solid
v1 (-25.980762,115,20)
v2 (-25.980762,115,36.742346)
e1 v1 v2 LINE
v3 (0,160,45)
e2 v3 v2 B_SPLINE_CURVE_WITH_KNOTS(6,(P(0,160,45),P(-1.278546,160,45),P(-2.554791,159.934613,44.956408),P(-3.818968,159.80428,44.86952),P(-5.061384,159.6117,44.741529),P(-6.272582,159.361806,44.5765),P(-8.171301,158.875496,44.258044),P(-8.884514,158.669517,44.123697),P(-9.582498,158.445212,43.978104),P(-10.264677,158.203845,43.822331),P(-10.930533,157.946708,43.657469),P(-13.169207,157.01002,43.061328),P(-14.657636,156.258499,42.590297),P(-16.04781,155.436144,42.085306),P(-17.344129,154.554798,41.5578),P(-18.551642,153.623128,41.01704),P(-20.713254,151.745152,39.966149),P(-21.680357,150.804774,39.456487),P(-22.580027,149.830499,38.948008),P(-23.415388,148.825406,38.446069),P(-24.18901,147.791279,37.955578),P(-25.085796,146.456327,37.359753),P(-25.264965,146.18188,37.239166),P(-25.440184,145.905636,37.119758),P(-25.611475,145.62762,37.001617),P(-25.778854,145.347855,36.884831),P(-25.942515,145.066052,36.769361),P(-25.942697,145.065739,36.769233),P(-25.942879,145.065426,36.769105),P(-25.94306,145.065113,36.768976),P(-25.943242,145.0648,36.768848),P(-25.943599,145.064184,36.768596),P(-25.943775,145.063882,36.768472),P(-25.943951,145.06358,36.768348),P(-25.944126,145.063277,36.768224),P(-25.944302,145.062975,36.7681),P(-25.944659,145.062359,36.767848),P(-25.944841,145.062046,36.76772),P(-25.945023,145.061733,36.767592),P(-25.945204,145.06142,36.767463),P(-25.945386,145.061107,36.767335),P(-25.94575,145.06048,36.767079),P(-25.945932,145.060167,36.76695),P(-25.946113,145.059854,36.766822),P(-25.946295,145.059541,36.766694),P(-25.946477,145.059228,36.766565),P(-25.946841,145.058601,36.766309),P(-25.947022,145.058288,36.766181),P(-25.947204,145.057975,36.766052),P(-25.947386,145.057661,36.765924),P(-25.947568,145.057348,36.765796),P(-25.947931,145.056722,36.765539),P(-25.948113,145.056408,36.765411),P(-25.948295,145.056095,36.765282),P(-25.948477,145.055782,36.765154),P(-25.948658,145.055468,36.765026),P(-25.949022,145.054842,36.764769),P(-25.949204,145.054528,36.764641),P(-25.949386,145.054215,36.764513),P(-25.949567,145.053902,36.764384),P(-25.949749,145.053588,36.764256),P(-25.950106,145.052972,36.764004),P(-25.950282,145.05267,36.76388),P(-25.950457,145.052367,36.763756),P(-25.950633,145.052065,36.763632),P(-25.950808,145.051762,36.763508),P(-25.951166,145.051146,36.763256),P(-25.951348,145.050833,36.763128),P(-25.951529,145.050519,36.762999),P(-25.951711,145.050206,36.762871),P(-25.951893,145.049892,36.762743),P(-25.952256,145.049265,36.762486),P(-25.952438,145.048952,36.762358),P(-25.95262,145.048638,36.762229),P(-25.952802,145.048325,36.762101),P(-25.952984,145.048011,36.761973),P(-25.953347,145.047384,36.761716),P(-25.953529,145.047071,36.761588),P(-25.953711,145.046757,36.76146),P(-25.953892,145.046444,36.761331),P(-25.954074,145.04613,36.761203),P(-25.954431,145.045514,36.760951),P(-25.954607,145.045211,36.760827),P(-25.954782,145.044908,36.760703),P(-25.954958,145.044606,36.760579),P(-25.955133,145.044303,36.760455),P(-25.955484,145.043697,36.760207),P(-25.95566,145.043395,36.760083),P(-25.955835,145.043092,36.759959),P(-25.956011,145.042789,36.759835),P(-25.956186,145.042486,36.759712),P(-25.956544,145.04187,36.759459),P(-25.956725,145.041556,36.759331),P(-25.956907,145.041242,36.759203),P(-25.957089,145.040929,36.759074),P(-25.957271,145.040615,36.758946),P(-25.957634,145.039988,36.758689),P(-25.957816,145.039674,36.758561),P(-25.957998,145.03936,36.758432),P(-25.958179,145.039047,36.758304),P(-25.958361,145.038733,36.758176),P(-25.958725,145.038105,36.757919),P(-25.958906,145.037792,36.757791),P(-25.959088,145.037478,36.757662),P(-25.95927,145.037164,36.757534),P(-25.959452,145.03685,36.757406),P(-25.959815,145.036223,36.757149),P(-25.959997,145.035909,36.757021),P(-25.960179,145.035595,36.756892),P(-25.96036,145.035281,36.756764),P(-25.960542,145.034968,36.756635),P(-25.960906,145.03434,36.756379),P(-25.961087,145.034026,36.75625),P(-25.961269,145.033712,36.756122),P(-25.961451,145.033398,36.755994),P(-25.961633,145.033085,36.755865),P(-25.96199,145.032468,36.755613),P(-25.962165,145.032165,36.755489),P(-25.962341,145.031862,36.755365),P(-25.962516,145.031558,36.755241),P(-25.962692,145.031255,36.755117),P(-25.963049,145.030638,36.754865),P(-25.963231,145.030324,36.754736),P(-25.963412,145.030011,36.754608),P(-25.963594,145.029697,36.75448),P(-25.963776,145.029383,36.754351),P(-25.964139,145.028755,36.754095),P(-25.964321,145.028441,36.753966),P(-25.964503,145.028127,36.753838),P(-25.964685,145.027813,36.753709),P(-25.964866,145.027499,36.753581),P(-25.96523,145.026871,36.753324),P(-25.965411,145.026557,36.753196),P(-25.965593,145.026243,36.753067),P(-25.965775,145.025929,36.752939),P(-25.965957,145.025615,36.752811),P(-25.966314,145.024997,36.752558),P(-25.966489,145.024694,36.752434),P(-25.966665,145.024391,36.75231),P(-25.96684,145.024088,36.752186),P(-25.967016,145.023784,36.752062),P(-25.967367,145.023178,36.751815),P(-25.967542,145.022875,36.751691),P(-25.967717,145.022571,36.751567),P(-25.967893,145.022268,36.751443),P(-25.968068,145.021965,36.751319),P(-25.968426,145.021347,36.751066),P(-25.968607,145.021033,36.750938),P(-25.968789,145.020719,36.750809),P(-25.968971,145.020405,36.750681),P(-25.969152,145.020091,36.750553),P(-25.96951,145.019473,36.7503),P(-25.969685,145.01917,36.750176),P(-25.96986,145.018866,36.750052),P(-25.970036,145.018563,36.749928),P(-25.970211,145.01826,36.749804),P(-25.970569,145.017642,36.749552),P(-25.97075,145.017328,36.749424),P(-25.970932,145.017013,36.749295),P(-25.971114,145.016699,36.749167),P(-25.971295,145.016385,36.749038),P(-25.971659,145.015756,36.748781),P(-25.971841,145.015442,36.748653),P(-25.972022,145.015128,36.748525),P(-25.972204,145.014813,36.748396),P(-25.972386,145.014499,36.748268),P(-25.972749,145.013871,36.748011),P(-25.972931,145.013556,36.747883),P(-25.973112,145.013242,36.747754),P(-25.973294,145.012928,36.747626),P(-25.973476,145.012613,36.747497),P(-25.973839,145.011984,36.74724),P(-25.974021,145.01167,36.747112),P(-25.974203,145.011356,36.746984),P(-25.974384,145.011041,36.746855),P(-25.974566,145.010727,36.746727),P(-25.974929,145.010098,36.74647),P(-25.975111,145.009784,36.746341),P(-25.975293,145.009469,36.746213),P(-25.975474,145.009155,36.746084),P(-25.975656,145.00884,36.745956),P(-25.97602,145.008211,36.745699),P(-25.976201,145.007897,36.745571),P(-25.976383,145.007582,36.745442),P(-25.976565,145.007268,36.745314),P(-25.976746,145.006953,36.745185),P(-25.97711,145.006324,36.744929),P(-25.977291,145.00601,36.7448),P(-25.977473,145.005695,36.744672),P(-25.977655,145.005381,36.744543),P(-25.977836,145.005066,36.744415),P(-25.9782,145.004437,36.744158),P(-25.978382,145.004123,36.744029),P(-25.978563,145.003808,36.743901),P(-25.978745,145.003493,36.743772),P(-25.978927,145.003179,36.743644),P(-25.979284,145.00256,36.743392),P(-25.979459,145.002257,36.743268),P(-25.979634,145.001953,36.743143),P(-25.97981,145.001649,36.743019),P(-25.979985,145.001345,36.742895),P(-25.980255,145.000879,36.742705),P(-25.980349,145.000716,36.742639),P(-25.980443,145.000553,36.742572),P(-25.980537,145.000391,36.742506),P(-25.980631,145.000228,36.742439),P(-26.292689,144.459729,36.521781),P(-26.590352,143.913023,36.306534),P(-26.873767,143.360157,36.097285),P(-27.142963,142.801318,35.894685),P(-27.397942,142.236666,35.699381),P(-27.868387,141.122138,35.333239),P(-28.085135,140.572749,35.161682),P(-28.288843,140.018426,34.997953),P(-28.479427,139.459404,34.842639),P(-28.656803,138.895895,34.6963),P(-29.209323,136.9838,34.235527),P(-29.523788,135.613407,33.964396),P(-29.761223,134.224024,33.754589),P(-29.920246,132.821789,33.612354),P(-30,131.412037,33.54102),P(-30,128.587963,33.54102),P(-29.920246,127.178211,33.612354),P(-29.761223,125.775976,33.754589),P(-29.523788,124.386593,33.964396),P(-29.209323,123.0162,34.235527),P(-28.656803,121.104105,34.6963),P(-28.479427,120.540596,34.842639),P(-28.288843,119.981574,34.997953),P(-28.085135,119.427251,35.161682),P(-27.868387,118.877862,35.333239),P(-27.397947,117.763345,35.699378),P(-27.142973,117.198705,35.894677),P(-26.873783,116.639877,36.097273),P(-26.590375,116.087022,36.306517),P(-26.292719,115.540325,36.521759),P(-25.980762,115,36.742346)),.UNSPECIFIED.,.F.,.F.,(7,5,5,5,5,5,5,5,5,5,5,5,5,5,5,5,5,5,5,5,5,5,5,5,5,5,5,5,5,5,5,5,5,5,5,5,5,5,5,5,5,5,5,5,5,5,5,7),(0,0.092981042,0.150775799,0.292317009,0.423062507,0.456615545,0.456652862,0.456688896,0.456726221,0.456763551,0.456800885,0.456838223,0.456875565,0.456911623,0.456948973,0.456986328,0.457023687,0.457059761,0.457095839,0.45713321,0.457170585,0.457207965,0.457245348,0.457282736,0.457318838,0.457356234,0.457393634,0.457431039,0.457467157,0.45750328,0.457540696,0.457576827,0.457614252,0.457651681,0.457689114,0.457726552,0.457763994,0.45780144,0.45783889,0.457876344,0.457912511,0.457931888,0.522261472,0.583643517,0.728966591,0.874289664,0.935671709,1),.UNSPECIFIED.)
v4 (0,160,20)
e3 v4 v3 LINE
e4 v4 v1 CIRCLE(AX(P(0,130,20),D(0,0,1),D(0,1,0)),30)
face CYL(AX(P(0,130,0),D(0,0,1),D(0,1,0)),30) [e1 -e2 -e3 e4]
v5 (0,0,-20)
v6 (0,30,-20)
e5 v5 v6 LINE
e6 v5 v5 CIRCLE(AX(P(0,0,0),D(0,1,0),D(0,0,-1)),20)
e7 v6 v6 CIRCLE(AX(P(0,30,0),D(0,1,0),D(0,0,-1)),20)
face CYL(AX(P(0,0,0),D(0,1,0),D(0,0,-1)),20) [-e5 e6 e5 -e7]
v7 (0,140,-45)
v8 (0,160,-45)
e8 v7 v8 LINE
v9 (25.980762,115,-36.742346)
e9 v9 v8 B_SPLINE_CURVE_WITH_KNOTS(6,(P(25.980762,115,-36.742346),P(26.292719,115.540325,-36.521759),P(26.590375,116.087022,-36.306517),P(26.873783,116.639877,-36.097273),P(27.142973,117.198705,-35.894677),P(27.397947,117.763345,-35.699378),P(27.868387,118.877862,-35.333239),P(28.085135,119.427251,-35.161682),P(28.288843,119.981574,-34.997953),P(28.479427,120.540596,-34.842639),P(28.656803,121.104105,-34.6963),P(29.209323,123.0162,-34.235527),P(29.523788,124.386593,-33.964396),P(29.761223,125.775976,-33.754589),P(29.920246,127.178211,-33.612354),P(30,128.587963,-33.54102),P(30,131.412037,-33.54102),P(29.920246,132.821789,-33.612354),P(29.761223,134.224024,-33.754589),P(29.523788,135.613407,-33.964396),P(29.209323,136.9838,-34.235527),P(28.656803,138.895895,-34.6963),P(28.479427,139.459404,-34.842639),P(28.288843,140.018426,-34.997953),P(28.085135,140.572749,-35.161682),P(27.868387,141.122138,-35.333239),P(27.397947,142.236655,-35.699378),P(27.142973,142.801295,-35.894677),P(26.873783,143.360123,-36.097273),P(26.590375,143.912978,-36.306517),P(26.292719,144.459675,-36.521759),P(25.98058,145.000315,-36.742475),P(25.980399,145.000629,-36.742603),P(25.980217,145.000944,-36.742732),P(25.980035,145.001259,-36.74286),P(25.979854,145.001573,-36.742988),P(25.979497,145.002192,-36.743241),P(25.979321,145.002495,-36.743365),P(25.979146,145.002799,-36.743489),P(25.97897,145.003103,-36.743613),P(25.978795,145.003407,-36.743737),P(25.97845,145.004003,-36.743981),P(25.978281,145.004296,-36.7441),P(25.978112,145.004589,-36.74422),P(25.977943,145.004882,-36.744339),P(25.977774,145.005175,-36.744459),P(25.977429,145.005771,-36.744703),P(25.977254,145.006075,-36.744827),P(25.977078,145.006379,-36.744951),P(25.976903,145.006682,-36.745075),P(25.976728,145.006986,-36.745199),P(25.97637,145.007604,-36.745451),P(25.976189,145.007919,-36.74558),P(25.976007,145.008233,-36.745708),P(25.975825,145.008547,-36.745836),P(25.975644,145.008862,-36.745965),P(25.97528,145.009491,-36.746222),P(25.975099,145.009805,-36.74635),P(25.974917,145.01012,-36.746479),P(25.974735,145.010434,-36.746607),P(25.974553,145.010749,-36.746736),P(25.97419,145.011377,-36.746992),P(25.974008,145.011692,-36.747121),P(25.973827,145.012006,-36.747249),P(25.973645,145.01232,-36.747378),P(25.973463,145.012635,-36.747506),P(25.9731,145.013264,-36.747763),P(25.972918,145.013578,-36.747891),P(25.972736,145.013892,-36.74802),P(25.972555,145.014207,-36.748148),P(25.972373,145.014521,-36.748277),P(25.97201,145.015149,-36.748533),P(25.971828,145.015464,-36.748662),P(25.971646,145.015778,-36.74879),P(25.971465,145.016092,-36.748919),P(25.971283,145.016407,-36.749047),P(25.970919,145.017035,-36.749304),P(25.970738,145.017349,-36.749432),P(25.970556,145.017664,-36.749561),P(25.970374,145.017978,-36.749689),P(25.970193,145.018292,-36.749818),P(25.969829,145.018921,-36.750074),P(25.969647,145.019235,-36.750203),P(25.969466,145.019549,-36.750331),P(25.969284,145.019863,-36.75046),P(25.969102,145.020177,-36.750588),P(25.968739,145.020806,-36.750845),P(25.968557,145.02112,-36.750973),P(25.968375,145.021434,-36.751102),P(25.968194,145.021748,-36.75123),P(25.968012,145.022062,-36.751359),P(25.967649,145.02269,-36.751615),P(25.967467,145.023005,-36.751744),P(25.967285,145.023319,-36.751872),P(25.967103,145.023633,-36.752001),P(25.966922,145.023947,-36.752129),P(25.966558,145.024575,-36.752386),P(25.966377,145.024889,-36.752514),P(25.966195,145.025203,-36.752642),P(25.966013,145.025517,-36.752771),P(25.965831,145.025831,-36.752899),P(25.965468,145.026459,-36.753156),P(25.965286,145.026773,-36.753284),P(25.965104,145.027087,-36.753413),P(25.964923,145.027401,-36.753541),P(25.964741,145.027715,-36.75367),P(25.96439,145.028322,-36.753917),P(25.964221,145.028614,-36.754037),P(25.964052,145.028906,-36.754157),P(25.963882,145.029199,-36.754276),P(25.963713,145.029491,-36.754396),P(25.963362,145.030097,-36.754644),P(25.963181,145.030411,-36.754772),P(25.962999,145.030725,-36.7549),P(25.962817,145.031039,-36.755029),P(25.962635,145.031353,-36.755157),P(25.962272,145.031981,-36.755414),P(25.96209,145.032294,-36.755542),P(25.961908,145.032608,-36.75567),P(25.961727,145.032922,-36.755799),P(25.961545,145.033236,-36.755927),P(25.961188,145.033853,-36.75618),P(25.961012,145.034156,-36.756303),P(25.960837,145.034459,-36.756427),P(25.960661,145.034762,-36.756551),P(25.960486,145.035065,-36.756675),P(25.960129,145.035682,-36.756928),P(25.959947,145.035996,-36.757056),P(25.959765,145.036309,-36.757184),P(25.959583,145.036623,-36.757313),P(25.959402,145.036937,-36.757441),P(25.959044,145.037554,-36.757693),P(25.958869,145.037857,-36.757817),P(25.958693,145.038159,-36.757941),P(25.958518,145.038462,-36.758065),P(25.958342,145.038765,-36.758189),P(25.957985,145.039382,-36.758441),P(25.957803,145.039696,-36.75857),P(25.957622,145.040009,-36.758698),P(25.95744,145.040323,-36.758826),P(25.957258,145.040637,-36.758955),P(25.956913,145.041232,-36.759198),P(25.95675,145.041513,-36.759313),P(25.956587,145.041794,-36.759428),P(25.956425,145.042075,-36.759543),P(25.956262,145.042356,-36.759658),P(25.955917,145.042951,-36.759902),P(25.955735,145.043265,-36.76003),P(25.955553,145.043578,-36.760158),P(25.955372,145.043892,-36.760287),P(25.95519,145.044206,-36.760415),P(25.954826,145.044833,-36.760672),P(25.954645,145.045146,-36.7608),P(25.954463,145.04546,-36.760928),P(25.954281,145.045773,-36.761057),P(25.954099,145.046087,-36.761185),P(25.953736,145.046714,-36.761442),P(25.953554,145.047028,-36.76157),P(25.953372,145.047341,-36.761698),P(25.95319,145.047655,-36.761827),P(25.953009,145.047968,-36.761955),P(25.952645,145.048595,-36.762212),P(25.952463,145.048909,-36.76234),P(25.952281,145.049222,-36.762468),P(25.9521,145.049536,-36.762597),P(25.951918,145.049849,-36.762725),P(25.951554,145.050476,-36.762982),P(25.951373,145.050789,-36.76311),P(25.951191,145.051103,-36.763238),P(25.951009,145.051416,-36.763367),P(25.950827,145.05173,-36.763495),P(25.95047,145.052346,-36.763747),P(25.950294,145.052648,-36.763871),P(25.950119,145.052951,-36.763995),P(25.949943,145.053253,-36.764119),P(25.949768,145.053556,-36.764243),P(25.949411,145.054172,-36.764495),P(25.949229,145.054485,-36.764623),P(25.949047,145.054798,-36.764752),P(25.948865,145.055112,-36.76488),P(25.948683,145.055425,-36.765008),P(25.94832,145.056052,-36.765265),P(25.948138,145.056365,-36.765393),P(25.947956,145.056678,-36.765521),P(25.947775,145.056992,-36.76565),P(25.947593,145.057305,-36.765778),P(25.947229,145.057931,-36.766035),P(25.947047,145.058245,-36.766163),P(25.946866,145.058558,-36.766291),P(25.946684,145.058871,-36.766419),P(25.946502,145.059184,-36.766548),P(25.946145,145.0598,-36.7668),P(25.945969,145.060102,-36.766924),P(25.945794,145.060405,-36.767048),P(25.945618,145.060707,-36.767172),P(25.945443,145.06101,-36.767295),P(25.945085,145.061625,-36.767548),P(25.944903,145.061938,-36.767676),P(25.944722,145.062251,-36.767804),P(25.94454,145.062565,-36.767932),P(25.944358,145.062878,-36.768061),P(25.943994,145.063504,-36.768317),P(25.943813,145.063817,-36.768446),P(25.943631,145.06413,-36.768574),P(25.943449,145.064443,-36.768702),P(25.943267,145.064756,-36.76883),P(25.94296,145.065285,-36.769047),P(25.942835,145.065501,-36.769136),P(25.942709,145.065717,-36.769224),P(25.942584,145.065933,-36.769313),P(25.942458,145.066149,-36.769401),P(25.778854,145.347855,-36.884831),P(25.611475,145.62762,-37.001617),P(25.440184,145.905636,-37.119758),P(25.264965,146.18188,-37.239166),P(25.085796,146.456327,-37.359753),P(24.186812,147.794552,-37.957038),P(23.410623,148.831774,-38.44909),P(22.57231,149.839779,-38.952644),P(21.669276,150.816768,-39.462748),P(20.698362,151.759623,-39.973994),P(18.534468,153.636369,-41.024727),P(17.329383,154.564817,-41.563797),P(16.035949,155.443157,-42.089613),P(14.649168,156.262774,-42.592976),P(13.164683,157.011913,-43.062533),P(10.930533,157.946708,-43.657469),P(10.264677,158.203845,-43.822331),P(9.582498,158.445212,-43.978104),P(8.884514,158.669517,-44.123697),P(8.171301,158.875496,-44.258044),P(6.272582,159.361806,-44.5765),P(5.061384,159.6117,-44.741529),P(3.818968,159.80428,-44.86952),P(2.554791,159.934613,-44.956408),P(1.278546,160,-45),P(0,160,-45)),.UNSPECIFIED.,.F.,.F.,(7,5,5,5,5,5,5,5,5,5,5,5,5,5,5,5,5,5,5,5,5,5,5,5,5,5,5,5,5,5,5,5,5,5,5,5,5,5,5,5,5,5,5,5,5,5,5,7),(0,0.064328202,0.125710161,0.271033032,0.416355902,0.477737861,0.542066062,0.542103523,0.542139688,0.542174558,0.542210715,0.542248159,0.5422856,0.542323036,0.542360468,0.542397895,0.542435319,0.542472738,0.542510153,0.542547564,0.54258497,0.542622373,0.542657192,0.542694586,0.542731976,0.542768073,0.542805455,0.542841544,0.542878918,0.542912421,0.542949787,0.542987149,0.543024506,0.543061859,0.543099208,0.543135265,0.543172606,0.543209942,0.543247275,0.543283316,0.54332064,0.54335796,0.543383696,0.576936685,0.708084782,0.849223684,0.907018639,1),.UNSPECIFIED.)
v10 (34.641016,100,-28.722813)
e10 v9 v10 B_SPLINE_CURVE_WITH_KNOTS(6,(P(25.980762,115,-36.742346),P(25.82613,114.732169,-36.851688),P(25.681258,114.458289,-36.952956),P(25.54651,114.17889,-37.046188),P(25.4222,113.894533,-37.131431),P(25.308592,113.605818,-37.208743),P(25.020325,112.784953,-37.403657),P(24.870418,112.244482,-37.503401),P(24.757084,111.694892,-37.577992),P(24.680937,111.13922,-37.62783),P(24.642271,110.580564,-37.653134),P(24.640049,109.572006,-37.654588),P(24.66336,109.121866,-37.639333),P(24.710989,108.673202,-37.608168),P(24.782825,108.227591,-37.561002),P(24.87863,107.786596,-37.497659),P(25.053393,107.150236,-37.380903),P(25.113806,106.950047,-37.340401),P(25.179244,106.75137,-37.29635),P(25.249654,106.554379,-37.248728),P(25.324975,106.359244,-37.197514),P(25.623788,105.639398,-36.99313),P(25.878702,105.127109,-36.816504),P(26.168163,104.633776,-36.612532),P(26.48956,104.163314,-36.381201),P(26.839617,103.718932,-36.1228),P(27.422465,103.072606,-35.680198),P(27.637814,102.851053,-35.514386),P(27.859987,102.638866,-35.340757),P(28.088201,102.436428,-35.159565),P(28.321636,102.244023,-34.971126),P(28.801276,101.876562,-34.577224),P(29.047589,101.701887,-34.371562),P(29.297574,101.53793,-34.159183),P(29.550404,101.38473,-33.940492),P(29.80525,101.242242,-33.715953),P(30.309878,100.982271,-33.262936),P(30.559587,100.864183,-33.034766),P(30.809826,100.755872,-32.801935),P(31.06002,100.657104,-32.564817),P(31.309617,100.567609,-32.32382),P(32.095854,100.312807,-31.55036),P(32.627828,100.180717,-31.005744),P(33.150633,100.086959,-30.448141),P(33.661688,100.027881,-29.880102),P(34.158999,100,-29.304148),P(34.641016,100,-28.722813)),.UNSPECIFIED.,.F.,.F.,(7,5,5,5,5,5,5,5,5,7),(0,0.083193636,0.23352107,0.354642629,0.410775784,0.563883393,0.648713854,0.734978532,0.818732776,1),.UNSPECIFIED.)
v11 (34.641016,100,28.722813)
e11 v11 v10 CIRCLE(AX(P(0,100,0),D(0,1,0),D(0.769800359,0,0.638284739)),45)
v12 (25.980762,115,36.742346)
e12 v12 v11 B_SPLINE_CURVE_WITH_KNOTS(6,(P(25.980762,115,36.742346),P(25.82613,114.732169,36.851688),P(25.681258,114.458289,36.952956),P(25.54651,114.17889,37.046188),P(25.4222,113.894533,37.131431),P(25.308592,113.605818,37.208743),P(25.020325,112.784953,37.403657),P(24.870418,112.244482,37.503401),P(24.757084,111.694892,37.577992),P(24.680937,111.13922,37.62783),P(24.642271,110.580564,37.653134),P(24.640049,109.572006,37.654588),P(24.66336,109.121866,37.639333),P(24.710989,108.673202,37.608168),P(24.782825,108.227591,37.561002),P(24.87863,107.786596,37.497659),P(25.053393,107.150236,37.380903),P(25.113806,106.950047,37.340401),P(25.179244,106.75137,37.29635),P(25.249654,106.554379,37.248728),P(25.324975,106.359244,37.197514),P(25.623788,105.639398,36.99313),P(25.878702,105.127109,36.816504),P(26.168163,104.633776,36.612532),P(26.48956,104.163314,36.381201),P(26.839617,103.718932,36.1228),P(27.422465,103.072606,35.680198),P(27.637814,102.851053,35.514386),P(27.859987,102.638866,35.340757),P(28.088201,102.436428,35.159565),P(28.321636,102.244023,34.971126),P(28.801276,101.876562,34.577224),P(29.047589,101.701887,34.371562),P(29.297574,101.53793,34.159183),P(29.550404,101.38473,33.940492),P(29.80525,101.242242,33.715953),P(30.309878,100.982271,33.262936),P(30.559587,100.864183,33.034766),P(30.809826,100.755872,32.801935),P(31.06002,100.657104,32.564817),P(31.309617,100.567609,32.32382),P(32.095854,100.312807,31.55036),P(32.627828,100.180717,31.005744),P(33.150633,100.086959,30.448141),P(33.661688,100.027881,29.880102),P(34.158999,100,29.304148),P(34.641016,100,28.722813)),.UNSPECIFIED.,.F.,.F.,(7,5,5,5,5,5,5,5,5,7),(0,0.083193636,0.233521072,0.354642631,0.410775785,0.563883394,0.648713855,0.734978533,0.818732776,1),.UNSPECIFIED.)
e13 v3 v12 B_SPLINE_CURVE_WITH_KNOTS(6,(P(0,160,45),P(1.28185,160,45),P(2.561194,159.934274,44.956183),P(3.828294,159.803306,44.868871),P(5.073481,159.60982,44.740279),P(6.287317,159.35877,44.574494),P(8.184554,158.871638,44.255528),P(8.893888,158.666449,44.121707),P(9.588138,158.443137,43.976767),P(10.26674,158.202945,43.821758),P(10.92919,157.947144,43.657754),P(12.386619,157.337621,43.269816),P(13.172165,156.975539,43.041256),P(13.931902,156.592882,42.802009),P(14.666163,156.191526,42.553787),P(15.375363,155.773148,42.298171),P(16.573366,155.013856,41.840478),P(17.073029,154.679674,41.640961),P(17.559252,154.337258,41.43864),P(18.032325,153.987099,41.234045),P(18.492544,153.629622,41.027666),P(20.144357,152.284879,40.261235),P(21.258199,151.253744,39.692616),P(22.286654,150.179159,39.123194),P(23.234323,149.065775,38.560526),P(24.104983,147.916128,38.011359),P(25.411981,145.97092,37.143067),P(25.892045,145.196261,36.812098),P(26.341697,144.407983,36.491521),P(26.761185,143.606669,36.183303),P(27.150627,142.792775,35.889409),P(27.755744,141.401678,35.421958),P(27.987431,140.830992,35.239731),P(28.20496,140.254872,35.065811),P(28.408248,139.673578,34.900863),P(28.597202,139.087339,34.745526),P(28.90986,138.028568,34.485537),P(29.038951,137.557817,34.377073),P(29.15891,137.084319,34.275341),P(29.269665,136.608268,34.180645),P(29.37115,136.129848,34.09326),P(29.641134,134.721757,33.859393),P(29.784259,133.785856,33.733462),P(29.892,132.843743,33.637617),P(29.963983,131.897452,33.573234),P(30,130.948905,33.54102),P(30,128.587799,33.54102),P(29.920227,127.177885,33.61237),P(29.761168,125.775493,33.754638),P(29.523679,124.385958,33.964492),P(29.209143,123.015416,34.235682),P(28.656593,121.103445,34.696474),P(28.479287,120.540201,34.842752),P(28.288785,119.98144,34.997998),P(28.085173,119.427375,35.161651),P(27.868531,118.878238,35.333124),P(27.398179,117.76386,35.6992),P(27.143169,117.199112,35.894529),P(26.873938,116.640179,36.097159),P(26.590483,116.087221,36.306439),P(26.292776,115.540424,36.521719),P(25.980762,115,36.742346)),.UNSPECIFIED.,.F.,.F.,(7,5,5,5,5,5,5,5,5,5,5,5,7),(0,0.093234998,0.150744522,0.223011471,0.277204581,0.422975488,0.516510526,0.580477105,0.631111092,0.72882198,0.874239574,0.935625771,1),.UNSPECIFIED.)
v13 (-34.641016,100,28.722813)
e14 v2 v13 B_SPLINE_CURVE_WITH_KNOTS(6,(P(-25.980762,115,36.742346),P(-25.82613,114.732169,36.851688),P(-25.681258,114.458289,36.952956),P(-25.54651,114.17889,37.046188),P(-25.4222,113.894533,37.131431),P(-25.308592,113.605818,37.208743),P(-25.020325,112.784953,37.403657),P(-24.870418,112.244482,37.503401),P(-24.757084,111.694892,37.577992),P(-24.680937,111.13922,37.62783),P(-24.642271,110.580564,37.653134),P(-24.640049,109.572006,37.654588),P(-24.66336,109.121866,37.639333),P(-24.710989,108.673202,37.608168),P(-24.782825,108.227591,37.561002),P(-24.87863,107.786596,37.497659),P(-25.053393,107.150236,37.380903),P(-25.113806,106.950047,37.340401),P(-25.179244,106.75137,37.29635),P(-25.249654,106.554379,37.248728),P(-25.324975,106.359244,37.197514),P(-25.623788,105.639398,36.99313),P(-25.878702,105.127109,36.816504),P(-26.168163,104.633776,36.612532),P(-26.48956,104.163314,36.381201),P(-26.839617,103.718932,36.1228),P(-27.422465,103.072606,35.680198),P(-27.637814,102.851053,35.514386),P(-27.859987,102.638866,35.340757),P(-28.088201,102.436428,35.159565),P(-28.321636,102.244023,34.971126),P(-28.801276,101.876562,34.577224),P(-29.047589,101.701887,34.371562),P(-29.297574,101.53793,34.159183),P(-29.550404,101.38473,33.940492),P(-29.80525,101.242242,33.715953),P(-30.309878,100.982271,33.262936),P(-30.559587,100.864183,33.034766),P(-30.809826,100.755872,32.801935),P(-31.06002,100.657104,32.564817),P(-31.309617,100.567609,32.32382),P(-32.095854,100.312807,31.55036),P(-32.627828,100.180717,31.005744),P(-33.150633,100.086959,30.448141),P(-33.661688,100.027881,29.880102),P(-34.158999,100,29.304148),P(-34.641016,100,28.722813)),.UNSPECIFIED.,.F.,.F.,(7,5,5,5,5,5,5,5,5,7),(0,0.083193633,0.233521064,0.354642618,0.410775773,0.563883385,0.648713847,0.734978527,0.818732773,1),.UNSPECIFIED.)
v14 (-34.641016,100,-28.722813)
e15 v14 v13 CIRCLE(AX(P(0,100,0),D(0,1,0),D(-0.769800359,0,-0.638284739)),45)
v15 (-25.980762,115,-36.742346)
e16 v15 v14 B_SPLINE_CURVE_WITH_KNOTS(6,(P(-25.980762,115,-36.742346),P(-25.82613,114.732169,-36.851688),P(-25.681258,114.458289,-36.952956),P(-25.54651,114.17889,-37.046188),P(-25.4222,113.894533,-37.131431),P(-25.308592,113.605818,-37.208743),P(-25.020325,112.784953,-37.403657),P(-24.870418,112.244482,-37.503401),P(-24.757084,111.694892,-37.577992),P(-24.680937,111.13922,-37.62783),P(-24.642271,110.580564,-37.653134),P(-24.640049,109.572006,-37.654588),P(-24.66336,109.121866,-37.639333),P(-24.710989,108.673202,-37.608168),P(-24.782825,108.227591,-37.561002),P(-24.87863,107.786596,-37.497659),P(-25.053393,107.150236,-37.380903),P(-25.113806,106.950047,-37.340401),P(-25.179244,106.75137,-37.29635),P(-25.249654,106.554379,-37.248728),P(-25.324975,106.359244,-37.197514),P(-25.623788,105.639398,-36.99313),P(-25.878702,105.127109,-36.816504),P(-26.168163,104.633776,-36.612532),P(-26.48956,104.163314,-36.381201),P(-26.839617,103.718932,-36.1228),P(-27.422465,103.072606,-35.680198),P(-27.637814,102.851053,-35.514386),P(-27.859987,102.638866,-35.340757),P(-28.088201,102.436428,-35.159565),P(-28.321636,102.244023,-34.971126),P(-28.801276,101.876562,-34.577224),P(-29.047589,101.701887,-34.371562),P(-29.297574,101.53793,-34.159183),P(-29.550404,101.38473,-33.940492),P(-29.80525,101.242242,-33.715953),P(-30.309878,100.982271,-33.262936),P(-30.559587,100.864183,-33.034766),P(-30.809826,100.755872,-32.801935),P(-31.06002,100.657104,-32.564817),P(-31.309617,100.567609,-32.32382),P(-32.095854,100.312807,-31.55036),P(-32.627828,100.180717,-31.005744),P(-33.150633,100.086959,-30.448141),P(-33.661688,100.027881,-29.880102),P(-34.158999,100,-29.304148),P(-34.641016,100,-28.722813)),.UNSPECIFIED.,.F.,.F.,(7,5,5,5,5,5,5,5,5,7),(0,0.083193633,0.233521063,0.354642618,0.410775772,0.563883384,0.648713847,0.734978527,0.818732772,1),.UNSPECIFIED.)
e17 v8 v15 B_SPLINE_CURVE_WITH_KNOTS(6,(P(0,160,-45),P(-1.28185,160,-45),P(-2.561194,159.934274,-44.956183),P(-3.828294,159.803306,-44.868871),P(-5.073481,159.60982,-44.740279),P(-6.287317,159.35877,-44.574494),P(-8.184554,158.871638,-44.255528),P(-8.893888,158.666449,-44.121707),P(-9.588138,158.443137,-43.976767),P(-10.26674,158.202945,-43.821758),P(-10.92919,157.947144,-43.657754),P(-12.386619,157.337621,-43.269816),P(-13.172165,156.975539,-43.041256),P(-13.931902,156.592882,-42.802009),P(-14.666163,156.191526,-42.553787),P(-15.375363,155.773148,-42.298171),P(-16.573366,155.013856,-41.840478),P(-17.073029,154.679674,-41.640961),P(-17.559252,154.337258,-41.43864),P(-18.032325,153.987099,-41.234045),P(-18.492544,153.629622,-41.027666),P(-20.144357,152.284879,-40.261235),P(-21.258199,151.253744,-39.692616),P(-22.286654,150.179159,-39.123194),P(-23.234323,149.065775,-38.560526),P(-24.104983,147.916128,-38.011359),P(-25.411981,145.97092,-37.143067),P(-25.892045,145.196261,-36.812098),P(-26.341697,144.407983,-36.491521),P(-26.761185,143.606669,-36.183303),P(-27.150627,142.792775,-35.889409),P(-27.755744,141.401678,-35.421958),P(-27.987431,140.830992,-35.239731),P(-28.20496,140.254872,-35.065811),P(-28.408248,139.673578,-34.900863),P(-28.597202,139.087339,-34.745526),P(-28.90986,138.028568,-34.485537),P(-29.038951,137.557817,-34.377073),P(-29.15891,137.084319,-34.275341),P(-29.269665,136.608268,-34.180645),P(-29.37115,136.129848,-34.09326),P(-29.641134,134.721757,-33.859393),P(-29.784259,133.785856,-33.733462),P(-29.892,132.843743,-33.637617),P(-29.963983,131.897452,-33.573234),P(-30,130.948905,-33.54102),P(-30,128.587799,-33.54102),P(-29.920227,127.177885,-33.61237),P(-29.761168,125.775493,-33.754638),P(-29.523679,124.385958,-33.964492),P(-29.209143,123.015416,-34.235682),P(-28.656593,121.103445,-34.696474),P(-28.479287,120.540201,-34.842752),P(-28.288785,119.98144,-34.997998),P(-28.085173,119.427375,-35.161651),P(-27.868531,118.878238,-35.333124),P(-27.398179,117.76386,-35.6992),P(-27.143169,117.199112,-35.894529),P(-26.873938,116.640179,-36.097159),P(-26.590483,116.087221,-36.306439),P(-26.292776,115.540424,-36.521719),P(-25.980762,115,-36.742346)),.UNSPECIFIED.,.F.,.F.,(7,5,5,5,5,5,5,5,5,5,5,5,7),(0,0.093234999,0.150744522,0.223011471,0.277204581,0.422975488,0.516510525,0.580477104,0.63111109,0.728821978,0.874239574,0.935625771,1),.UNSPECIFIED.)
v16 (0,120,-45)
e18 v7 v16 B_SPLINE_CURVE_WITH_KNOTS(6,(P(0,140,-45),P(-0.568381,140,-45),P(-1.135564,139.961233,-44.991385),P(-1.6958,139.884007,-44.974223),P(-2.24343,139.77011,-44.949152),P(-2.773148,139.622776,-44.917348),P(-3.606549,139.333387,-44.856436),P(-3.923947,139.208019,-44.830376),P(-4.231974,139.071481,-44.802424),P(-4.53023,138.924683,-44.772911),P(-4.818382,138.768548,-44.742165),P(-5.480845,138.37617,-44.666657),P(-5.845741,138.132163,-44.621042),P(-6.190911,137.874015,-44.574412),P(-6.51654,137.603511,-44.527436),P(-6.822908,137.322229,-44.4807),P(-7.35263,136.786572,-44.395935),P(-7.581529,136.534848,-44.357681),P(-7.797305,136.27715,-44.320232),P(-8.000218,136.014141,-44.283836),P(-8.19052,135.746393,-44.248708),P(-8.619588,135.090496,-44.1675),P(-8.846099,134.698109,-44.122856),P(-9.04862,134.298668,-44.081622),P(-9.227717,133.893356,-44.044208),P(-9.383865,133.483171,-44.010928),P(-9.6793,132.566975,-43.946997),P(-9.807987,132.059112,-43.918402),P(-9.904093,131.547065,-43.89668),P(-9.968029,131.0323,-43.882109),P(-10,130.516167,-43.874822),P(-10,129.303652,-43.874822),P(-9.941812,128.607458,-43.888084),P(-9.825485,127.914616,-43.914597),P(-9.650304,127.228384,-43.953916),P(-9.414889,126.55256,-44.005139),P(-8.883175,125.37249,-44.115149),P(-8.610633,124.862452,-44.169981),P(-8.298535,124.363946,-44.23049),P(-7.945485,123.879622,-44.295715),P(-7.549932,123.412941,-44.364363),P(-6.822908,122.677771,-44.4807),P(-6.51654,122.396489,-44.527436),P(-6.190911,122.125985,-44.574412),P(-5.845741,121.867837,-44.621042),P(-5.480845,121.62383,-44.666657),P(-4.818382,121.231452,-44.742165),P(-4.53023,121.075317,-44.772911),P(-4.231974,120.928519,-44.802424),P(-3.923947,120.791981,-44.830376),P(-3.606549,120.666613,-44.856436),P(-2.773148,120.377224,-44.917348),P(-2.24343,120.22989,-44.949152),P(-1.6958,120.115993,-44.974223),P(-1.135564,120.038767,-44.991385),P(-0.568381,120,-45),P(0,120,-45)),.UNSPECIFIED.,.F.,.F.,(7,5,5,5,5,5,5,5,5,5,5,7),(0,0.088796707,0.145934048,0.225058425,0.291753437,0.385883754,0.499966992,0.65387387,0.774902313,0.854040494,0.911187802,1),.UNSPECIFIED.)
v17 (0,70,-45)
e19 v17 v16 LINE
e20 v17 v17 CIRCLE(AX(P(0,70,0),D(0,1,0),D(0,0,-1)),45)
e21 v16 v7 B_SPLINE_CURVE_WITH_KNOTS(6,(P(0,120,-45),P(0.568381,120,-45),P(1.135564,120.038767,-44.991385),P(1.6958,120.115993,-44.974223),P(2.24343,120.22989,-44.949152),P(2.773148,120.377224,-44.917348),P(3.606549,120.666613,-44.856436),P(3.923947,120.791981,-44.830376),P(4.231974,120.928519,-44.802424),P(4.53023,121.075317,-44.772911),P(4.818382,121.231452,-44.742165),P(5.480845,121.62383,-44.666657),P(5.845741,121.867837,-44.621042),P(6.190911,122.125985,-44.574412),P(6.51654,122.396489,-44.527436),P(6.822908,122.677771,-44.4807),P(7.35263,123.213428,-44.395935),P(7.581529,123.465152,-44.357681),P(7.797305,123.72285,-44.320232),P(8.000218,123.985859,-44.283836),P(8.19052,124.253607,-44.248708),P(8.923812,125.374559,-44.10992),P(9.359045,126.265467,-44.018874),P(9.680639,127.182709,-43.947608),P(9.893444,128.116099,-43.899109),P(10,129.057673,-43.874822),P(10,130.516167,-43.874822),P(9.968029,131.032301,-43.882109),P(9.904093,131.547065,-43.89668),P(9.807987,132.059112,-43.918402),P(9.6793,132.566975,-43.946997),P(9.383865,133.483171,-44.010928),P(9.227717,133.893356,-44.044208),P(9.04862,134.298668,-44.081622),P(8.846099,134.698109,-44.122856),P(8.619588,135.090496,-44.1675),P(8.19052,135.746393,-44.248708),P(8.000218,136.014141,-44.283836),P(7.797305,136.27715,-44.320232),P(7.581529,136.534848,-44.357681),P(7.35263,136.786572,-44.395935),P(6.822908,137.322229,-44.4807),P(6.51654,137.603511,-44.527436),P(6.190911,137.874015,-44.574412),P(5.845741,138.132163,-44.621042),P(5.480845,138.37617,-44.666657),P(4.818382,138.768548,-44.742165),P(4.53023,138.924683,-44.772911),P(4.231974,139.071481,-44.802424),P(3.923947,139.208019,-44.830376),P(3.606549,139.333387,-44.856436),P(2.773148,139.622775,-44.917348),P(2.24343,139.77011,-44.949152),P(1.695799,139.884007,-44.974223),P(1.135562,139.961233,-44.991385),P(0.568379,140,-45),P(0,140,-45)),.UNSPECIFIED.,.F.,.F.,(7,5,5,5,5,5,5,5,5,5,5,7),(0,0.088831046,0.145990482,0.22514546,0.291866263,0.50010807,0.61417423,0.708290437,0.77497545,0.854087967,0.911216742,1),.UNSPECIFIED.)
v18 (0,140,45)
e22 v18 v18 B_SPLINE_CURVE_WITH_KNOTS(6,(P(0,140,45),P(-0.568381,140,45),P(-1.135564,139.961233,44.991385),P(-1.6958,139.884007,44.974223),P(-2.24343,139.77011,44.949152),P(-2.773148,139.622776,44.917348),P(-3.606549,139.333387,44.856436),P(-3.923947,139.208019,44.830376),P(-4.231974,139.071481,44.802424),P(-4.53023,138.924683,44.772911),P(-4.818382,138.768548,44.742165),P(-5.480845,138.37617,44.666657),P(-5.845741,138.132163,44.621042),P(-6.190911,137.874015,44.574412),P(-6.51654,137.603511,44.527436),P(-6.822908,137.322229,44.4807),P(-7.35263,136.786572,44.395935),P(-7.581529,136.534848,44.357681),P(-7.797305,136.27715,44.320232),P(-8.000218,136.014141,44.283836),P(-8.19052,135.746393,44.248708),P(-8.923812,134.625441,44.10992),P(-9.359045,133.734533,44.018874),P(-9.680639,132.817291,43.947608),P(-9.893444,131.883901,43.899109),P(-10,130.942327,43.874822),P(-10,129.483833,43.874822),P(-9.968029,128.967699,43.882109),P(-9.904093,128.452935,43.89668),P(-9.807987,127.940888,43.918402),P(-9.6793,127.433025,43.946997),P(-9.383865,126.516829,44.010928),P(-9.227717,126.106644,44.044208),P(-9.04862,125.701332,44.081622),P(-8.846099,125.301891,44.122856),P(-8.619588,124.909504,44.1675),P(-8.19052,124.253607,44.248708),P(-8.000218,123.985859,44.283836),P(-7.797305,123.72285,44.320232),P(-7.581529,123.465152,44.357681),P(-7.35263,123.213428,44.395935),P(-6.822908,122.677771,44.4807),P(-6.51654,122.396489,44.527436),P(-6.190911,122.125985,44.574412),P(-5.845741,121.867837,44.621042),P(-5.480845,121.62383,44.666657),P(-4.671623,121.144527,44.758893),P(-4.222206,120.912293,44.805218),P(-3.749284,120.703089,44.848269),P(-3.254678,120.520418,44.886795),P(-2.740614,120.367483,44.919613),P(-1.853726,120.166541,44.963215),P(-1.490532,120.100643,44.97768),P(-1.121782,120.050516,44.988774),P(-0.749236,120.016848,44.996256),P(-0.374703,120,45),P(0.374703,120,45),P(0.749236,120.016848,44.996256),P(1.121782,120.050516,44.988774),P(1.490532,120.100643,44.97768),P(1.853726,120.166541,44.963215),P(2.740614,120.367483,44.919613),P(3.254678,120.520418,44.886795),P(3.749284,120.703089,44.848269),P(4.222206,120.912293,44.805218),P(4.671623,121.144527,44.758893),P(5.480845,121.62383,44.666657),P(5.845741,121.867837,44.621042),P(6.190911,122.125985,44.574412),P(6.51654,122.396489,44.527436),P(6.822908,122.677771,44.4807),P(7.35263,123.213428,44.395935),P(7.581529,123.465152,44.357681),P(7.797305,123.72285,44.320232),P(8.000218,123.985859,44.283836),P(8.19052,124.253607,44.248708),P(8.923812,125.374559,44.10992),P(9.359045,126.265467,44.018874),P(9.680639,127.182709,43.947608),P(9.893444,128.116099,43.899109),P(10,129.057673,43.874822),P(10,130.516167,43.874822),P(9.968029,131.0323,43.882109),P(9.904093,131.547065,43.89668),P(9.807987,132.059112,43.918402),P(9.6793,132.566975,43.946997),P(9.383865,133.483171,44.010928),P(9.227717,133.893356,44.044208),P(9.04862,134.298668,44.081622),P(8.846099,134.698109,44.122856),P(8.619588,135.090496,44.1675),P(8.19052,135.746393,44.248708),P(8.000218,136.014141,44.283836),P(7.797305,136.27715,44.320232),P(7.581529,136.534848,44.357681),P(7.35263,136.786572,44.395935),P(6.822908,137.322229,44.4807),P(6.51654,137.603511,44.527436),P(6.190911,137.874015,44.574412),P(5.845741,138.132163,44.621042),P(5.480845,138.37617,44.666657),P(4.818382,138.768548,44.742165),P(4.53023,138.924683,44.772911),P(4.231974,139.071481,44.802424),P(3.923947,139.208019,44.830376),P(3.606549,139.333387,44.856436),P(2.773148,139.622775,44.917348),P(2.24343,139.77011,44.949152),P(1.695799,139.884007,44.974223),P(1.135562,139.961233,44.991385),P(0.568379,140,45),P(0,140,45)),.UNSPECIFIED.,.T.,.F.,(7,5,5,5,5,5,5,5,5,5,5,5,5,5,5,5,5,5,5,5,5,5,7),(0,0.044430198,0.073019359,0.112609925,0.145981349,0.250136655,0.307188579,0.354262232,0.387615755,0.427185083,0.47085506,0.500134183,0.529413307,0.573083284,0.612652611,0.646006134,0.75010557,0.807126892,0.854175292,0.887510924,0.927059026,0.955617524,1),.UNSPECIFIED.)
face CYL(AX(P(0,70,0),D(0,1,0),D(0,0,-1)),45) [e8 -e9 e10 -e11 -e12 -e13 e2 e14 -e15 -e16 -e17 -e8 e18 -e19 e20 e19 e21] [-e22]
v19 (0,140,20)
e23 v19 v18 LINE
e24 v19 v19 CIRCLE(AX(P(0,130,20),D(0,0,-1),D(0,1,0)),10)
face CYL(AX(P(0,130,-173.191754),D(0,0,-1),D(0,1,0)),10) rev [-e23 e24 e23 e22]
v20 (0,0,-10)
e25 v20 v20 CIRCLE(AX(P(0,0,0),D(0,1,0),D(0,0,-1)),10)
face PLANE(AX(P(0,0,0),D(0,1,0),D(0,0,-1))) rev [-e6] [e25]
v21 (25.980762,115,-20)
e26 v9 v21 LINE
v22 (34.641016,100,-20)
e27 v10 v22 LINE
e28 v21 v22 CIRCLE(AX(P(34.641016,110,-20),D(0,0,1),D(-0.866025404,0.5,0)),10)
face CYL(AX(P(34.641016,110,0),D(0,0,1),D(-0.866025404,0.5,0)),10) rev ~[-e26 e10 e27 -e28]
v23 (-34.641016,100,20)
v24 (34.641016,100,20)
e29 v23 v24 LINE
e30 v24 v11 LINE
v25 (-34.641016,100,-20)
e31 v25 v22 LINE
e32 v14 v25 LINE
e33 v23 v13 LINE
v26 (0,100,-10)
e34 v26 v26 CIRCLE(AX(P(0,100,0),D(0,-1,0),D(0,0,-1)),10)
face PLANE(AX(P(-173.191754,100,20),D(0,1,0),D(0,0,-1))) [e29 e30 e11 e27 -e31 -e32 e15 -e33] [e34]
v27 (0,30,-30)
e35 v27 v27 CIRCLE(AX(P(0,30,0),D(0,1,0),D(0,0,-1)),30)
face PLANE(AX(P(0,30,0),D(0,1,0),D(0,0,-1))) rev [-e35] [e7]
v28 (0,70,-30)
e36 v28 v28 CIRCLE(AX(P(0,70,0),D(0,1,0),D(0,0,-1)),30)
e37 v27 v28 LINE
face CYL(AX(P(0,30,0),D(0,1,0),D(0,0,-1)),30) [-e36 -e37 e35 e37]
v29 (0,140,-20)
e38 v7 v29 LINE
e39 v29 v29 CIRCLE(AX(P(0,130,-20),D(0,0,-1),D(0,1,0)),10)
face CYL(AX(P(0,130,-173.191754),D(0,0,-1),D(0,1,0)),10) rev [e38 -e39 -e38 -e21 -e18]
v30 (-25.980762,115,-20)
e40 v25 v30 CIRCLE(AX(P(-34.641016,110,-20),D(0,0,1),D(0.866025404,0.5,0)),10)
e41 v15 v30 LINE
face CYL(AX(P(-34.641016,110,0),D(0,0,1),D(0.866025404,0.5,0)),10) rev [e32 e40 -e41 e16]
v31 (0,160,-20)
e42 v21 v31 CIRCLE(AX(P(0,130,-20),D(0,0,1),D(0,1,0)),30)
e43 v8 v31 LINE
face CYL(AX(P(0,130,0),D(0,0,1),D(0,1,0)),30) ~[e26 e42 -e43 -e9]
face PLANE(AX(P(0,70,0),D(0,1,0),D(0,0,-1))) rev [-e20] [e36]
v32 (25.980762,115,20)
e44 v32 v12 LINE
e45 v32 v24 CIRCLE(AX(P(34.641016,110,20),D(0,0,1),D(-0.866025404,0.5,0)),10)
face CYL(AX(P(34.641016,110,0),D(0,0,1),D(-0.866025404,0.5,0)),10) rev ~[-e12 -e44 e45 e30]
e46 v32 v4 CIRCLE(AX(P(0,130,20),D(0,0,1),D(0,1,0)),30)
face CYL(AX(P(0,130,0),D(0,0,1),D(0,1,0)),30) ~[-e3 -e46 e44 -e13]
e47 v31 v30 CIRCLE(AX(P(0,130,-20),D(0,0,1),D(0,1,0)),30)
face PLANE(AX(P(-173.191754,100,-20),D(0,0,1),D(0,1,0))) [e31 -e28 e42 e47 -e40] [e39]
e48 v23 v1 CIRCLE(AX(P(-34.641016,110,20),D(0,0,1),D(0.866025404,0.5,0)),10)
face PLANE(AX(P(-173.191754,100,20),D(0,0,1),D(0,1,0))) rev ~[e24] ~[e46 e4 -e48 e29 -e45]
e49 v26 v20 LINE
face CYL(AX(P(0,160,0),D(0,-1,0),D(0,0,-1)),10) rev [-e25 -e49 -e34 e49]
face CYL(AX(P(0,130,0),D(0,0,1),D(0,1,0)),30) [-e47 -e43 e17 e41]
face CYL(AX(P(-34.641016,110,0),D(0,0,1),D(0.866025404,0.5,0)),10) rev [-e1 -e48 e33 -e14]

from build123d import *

# Parameters (mm, degrees)
CUT_EXTRUDE1_DEPTH      = 173.191753577
CUT_EXTRUDE2_DEPTH      = 173.191753722
CUT_EXTRUDE2_DEPTH_BACK = 173.191753722
SKETCH3_W               = 40
SKETCH3_H               = 60
CUT_EXTRUDE3_DEPTH      = 173.191753722
CUT_EXTRUDE3_DEPTH_BACK = 173.191753722
SKETCH5_R               = 10


with BuildPart() as part:
    # Sketch1 → Revolve1 (revolve)
    with BuildSketch(Plane.XY, mode=Mode.PRIVATE) as revolve1_sk:
        Polygon((10, 0), (20, 0), (20, 30), (30, 30), (30, 70), (45, 70), (45, 160), (10, 160), align=None)
    revolve(revolve1_sk.sketch.rotate(Axis((0, 0, 0), (0, 1, 0)), 90), axis=Axis((0, 0, 0), (0, 1, 0)))

    # Sketch2 → Cut-Extrude1 (cut, symmetric)
    with BuildSketch(Plane.XY):
        with BuildLine():
            Line((-34.641016151, 100), (-50, 100))
            Line((-50, 100), (-50, 160))
            Line((-50, 160), (0, 160))
            ThreePointArc((0, 160), (-25.980762114, 145), (-25.980762114, 115))
            ThreePointArc((-25.980762114, 115), (-25.980762114, 105), (-34.641016151, 100))
        make_face()
    cut_extrude1 = extrude(amount=CUT_EXTRUDE1_DEPTH, both=True, mode=Mode.SUBTRACT)

    # Mirror1: Cut-Extrude1 across plane
    add(cut_extrude1.mirror(Plane(origin=(0, 0, 0), x_dir=(0, 0, 1), z_dir=(1, 0, 0))), mode=Mode.SUBTRACT)

    # Sketch3 → Cut-Extrude2 (cut, two sides: drawn at the far end of the back side and taken through both)
    with BuildSketch(Plane(origin=(0, 0, 0), x_dir=(0, 0, -1), z_dir=(1, 0, 0)).offset(-CUT_EXTRUDE2_DEPTH_BACK)):
        with Locations((0, 130)):
            Rectangle(SKETCH3_W, SKETCH3_H)
    extrude(amount=CUT_EXTRUDE2_DEPTH + CUT_EXTRUDE2_DEPTH_BACK, mode=Mode.SUBTRACT)

    # Sketch5 → Cut-Extrude3 (cut, two sides: drawn at the far end of the back side and taken through both)
    with BuildSketch(Plane.XY.offset(-CUT_EXTRUDE3_DEPTH_BACK)):
        with Locations(Location((0, 130, 0), (0, 0, 90))):
            Circle(SKETCH5_R)
    extrude(amount=CUT_EXTRUDE3_DEPTH + CUT_EXTRUDE3_DEPTH_BACK, mode=Mode.SUBTRACT)


solid = part.part
